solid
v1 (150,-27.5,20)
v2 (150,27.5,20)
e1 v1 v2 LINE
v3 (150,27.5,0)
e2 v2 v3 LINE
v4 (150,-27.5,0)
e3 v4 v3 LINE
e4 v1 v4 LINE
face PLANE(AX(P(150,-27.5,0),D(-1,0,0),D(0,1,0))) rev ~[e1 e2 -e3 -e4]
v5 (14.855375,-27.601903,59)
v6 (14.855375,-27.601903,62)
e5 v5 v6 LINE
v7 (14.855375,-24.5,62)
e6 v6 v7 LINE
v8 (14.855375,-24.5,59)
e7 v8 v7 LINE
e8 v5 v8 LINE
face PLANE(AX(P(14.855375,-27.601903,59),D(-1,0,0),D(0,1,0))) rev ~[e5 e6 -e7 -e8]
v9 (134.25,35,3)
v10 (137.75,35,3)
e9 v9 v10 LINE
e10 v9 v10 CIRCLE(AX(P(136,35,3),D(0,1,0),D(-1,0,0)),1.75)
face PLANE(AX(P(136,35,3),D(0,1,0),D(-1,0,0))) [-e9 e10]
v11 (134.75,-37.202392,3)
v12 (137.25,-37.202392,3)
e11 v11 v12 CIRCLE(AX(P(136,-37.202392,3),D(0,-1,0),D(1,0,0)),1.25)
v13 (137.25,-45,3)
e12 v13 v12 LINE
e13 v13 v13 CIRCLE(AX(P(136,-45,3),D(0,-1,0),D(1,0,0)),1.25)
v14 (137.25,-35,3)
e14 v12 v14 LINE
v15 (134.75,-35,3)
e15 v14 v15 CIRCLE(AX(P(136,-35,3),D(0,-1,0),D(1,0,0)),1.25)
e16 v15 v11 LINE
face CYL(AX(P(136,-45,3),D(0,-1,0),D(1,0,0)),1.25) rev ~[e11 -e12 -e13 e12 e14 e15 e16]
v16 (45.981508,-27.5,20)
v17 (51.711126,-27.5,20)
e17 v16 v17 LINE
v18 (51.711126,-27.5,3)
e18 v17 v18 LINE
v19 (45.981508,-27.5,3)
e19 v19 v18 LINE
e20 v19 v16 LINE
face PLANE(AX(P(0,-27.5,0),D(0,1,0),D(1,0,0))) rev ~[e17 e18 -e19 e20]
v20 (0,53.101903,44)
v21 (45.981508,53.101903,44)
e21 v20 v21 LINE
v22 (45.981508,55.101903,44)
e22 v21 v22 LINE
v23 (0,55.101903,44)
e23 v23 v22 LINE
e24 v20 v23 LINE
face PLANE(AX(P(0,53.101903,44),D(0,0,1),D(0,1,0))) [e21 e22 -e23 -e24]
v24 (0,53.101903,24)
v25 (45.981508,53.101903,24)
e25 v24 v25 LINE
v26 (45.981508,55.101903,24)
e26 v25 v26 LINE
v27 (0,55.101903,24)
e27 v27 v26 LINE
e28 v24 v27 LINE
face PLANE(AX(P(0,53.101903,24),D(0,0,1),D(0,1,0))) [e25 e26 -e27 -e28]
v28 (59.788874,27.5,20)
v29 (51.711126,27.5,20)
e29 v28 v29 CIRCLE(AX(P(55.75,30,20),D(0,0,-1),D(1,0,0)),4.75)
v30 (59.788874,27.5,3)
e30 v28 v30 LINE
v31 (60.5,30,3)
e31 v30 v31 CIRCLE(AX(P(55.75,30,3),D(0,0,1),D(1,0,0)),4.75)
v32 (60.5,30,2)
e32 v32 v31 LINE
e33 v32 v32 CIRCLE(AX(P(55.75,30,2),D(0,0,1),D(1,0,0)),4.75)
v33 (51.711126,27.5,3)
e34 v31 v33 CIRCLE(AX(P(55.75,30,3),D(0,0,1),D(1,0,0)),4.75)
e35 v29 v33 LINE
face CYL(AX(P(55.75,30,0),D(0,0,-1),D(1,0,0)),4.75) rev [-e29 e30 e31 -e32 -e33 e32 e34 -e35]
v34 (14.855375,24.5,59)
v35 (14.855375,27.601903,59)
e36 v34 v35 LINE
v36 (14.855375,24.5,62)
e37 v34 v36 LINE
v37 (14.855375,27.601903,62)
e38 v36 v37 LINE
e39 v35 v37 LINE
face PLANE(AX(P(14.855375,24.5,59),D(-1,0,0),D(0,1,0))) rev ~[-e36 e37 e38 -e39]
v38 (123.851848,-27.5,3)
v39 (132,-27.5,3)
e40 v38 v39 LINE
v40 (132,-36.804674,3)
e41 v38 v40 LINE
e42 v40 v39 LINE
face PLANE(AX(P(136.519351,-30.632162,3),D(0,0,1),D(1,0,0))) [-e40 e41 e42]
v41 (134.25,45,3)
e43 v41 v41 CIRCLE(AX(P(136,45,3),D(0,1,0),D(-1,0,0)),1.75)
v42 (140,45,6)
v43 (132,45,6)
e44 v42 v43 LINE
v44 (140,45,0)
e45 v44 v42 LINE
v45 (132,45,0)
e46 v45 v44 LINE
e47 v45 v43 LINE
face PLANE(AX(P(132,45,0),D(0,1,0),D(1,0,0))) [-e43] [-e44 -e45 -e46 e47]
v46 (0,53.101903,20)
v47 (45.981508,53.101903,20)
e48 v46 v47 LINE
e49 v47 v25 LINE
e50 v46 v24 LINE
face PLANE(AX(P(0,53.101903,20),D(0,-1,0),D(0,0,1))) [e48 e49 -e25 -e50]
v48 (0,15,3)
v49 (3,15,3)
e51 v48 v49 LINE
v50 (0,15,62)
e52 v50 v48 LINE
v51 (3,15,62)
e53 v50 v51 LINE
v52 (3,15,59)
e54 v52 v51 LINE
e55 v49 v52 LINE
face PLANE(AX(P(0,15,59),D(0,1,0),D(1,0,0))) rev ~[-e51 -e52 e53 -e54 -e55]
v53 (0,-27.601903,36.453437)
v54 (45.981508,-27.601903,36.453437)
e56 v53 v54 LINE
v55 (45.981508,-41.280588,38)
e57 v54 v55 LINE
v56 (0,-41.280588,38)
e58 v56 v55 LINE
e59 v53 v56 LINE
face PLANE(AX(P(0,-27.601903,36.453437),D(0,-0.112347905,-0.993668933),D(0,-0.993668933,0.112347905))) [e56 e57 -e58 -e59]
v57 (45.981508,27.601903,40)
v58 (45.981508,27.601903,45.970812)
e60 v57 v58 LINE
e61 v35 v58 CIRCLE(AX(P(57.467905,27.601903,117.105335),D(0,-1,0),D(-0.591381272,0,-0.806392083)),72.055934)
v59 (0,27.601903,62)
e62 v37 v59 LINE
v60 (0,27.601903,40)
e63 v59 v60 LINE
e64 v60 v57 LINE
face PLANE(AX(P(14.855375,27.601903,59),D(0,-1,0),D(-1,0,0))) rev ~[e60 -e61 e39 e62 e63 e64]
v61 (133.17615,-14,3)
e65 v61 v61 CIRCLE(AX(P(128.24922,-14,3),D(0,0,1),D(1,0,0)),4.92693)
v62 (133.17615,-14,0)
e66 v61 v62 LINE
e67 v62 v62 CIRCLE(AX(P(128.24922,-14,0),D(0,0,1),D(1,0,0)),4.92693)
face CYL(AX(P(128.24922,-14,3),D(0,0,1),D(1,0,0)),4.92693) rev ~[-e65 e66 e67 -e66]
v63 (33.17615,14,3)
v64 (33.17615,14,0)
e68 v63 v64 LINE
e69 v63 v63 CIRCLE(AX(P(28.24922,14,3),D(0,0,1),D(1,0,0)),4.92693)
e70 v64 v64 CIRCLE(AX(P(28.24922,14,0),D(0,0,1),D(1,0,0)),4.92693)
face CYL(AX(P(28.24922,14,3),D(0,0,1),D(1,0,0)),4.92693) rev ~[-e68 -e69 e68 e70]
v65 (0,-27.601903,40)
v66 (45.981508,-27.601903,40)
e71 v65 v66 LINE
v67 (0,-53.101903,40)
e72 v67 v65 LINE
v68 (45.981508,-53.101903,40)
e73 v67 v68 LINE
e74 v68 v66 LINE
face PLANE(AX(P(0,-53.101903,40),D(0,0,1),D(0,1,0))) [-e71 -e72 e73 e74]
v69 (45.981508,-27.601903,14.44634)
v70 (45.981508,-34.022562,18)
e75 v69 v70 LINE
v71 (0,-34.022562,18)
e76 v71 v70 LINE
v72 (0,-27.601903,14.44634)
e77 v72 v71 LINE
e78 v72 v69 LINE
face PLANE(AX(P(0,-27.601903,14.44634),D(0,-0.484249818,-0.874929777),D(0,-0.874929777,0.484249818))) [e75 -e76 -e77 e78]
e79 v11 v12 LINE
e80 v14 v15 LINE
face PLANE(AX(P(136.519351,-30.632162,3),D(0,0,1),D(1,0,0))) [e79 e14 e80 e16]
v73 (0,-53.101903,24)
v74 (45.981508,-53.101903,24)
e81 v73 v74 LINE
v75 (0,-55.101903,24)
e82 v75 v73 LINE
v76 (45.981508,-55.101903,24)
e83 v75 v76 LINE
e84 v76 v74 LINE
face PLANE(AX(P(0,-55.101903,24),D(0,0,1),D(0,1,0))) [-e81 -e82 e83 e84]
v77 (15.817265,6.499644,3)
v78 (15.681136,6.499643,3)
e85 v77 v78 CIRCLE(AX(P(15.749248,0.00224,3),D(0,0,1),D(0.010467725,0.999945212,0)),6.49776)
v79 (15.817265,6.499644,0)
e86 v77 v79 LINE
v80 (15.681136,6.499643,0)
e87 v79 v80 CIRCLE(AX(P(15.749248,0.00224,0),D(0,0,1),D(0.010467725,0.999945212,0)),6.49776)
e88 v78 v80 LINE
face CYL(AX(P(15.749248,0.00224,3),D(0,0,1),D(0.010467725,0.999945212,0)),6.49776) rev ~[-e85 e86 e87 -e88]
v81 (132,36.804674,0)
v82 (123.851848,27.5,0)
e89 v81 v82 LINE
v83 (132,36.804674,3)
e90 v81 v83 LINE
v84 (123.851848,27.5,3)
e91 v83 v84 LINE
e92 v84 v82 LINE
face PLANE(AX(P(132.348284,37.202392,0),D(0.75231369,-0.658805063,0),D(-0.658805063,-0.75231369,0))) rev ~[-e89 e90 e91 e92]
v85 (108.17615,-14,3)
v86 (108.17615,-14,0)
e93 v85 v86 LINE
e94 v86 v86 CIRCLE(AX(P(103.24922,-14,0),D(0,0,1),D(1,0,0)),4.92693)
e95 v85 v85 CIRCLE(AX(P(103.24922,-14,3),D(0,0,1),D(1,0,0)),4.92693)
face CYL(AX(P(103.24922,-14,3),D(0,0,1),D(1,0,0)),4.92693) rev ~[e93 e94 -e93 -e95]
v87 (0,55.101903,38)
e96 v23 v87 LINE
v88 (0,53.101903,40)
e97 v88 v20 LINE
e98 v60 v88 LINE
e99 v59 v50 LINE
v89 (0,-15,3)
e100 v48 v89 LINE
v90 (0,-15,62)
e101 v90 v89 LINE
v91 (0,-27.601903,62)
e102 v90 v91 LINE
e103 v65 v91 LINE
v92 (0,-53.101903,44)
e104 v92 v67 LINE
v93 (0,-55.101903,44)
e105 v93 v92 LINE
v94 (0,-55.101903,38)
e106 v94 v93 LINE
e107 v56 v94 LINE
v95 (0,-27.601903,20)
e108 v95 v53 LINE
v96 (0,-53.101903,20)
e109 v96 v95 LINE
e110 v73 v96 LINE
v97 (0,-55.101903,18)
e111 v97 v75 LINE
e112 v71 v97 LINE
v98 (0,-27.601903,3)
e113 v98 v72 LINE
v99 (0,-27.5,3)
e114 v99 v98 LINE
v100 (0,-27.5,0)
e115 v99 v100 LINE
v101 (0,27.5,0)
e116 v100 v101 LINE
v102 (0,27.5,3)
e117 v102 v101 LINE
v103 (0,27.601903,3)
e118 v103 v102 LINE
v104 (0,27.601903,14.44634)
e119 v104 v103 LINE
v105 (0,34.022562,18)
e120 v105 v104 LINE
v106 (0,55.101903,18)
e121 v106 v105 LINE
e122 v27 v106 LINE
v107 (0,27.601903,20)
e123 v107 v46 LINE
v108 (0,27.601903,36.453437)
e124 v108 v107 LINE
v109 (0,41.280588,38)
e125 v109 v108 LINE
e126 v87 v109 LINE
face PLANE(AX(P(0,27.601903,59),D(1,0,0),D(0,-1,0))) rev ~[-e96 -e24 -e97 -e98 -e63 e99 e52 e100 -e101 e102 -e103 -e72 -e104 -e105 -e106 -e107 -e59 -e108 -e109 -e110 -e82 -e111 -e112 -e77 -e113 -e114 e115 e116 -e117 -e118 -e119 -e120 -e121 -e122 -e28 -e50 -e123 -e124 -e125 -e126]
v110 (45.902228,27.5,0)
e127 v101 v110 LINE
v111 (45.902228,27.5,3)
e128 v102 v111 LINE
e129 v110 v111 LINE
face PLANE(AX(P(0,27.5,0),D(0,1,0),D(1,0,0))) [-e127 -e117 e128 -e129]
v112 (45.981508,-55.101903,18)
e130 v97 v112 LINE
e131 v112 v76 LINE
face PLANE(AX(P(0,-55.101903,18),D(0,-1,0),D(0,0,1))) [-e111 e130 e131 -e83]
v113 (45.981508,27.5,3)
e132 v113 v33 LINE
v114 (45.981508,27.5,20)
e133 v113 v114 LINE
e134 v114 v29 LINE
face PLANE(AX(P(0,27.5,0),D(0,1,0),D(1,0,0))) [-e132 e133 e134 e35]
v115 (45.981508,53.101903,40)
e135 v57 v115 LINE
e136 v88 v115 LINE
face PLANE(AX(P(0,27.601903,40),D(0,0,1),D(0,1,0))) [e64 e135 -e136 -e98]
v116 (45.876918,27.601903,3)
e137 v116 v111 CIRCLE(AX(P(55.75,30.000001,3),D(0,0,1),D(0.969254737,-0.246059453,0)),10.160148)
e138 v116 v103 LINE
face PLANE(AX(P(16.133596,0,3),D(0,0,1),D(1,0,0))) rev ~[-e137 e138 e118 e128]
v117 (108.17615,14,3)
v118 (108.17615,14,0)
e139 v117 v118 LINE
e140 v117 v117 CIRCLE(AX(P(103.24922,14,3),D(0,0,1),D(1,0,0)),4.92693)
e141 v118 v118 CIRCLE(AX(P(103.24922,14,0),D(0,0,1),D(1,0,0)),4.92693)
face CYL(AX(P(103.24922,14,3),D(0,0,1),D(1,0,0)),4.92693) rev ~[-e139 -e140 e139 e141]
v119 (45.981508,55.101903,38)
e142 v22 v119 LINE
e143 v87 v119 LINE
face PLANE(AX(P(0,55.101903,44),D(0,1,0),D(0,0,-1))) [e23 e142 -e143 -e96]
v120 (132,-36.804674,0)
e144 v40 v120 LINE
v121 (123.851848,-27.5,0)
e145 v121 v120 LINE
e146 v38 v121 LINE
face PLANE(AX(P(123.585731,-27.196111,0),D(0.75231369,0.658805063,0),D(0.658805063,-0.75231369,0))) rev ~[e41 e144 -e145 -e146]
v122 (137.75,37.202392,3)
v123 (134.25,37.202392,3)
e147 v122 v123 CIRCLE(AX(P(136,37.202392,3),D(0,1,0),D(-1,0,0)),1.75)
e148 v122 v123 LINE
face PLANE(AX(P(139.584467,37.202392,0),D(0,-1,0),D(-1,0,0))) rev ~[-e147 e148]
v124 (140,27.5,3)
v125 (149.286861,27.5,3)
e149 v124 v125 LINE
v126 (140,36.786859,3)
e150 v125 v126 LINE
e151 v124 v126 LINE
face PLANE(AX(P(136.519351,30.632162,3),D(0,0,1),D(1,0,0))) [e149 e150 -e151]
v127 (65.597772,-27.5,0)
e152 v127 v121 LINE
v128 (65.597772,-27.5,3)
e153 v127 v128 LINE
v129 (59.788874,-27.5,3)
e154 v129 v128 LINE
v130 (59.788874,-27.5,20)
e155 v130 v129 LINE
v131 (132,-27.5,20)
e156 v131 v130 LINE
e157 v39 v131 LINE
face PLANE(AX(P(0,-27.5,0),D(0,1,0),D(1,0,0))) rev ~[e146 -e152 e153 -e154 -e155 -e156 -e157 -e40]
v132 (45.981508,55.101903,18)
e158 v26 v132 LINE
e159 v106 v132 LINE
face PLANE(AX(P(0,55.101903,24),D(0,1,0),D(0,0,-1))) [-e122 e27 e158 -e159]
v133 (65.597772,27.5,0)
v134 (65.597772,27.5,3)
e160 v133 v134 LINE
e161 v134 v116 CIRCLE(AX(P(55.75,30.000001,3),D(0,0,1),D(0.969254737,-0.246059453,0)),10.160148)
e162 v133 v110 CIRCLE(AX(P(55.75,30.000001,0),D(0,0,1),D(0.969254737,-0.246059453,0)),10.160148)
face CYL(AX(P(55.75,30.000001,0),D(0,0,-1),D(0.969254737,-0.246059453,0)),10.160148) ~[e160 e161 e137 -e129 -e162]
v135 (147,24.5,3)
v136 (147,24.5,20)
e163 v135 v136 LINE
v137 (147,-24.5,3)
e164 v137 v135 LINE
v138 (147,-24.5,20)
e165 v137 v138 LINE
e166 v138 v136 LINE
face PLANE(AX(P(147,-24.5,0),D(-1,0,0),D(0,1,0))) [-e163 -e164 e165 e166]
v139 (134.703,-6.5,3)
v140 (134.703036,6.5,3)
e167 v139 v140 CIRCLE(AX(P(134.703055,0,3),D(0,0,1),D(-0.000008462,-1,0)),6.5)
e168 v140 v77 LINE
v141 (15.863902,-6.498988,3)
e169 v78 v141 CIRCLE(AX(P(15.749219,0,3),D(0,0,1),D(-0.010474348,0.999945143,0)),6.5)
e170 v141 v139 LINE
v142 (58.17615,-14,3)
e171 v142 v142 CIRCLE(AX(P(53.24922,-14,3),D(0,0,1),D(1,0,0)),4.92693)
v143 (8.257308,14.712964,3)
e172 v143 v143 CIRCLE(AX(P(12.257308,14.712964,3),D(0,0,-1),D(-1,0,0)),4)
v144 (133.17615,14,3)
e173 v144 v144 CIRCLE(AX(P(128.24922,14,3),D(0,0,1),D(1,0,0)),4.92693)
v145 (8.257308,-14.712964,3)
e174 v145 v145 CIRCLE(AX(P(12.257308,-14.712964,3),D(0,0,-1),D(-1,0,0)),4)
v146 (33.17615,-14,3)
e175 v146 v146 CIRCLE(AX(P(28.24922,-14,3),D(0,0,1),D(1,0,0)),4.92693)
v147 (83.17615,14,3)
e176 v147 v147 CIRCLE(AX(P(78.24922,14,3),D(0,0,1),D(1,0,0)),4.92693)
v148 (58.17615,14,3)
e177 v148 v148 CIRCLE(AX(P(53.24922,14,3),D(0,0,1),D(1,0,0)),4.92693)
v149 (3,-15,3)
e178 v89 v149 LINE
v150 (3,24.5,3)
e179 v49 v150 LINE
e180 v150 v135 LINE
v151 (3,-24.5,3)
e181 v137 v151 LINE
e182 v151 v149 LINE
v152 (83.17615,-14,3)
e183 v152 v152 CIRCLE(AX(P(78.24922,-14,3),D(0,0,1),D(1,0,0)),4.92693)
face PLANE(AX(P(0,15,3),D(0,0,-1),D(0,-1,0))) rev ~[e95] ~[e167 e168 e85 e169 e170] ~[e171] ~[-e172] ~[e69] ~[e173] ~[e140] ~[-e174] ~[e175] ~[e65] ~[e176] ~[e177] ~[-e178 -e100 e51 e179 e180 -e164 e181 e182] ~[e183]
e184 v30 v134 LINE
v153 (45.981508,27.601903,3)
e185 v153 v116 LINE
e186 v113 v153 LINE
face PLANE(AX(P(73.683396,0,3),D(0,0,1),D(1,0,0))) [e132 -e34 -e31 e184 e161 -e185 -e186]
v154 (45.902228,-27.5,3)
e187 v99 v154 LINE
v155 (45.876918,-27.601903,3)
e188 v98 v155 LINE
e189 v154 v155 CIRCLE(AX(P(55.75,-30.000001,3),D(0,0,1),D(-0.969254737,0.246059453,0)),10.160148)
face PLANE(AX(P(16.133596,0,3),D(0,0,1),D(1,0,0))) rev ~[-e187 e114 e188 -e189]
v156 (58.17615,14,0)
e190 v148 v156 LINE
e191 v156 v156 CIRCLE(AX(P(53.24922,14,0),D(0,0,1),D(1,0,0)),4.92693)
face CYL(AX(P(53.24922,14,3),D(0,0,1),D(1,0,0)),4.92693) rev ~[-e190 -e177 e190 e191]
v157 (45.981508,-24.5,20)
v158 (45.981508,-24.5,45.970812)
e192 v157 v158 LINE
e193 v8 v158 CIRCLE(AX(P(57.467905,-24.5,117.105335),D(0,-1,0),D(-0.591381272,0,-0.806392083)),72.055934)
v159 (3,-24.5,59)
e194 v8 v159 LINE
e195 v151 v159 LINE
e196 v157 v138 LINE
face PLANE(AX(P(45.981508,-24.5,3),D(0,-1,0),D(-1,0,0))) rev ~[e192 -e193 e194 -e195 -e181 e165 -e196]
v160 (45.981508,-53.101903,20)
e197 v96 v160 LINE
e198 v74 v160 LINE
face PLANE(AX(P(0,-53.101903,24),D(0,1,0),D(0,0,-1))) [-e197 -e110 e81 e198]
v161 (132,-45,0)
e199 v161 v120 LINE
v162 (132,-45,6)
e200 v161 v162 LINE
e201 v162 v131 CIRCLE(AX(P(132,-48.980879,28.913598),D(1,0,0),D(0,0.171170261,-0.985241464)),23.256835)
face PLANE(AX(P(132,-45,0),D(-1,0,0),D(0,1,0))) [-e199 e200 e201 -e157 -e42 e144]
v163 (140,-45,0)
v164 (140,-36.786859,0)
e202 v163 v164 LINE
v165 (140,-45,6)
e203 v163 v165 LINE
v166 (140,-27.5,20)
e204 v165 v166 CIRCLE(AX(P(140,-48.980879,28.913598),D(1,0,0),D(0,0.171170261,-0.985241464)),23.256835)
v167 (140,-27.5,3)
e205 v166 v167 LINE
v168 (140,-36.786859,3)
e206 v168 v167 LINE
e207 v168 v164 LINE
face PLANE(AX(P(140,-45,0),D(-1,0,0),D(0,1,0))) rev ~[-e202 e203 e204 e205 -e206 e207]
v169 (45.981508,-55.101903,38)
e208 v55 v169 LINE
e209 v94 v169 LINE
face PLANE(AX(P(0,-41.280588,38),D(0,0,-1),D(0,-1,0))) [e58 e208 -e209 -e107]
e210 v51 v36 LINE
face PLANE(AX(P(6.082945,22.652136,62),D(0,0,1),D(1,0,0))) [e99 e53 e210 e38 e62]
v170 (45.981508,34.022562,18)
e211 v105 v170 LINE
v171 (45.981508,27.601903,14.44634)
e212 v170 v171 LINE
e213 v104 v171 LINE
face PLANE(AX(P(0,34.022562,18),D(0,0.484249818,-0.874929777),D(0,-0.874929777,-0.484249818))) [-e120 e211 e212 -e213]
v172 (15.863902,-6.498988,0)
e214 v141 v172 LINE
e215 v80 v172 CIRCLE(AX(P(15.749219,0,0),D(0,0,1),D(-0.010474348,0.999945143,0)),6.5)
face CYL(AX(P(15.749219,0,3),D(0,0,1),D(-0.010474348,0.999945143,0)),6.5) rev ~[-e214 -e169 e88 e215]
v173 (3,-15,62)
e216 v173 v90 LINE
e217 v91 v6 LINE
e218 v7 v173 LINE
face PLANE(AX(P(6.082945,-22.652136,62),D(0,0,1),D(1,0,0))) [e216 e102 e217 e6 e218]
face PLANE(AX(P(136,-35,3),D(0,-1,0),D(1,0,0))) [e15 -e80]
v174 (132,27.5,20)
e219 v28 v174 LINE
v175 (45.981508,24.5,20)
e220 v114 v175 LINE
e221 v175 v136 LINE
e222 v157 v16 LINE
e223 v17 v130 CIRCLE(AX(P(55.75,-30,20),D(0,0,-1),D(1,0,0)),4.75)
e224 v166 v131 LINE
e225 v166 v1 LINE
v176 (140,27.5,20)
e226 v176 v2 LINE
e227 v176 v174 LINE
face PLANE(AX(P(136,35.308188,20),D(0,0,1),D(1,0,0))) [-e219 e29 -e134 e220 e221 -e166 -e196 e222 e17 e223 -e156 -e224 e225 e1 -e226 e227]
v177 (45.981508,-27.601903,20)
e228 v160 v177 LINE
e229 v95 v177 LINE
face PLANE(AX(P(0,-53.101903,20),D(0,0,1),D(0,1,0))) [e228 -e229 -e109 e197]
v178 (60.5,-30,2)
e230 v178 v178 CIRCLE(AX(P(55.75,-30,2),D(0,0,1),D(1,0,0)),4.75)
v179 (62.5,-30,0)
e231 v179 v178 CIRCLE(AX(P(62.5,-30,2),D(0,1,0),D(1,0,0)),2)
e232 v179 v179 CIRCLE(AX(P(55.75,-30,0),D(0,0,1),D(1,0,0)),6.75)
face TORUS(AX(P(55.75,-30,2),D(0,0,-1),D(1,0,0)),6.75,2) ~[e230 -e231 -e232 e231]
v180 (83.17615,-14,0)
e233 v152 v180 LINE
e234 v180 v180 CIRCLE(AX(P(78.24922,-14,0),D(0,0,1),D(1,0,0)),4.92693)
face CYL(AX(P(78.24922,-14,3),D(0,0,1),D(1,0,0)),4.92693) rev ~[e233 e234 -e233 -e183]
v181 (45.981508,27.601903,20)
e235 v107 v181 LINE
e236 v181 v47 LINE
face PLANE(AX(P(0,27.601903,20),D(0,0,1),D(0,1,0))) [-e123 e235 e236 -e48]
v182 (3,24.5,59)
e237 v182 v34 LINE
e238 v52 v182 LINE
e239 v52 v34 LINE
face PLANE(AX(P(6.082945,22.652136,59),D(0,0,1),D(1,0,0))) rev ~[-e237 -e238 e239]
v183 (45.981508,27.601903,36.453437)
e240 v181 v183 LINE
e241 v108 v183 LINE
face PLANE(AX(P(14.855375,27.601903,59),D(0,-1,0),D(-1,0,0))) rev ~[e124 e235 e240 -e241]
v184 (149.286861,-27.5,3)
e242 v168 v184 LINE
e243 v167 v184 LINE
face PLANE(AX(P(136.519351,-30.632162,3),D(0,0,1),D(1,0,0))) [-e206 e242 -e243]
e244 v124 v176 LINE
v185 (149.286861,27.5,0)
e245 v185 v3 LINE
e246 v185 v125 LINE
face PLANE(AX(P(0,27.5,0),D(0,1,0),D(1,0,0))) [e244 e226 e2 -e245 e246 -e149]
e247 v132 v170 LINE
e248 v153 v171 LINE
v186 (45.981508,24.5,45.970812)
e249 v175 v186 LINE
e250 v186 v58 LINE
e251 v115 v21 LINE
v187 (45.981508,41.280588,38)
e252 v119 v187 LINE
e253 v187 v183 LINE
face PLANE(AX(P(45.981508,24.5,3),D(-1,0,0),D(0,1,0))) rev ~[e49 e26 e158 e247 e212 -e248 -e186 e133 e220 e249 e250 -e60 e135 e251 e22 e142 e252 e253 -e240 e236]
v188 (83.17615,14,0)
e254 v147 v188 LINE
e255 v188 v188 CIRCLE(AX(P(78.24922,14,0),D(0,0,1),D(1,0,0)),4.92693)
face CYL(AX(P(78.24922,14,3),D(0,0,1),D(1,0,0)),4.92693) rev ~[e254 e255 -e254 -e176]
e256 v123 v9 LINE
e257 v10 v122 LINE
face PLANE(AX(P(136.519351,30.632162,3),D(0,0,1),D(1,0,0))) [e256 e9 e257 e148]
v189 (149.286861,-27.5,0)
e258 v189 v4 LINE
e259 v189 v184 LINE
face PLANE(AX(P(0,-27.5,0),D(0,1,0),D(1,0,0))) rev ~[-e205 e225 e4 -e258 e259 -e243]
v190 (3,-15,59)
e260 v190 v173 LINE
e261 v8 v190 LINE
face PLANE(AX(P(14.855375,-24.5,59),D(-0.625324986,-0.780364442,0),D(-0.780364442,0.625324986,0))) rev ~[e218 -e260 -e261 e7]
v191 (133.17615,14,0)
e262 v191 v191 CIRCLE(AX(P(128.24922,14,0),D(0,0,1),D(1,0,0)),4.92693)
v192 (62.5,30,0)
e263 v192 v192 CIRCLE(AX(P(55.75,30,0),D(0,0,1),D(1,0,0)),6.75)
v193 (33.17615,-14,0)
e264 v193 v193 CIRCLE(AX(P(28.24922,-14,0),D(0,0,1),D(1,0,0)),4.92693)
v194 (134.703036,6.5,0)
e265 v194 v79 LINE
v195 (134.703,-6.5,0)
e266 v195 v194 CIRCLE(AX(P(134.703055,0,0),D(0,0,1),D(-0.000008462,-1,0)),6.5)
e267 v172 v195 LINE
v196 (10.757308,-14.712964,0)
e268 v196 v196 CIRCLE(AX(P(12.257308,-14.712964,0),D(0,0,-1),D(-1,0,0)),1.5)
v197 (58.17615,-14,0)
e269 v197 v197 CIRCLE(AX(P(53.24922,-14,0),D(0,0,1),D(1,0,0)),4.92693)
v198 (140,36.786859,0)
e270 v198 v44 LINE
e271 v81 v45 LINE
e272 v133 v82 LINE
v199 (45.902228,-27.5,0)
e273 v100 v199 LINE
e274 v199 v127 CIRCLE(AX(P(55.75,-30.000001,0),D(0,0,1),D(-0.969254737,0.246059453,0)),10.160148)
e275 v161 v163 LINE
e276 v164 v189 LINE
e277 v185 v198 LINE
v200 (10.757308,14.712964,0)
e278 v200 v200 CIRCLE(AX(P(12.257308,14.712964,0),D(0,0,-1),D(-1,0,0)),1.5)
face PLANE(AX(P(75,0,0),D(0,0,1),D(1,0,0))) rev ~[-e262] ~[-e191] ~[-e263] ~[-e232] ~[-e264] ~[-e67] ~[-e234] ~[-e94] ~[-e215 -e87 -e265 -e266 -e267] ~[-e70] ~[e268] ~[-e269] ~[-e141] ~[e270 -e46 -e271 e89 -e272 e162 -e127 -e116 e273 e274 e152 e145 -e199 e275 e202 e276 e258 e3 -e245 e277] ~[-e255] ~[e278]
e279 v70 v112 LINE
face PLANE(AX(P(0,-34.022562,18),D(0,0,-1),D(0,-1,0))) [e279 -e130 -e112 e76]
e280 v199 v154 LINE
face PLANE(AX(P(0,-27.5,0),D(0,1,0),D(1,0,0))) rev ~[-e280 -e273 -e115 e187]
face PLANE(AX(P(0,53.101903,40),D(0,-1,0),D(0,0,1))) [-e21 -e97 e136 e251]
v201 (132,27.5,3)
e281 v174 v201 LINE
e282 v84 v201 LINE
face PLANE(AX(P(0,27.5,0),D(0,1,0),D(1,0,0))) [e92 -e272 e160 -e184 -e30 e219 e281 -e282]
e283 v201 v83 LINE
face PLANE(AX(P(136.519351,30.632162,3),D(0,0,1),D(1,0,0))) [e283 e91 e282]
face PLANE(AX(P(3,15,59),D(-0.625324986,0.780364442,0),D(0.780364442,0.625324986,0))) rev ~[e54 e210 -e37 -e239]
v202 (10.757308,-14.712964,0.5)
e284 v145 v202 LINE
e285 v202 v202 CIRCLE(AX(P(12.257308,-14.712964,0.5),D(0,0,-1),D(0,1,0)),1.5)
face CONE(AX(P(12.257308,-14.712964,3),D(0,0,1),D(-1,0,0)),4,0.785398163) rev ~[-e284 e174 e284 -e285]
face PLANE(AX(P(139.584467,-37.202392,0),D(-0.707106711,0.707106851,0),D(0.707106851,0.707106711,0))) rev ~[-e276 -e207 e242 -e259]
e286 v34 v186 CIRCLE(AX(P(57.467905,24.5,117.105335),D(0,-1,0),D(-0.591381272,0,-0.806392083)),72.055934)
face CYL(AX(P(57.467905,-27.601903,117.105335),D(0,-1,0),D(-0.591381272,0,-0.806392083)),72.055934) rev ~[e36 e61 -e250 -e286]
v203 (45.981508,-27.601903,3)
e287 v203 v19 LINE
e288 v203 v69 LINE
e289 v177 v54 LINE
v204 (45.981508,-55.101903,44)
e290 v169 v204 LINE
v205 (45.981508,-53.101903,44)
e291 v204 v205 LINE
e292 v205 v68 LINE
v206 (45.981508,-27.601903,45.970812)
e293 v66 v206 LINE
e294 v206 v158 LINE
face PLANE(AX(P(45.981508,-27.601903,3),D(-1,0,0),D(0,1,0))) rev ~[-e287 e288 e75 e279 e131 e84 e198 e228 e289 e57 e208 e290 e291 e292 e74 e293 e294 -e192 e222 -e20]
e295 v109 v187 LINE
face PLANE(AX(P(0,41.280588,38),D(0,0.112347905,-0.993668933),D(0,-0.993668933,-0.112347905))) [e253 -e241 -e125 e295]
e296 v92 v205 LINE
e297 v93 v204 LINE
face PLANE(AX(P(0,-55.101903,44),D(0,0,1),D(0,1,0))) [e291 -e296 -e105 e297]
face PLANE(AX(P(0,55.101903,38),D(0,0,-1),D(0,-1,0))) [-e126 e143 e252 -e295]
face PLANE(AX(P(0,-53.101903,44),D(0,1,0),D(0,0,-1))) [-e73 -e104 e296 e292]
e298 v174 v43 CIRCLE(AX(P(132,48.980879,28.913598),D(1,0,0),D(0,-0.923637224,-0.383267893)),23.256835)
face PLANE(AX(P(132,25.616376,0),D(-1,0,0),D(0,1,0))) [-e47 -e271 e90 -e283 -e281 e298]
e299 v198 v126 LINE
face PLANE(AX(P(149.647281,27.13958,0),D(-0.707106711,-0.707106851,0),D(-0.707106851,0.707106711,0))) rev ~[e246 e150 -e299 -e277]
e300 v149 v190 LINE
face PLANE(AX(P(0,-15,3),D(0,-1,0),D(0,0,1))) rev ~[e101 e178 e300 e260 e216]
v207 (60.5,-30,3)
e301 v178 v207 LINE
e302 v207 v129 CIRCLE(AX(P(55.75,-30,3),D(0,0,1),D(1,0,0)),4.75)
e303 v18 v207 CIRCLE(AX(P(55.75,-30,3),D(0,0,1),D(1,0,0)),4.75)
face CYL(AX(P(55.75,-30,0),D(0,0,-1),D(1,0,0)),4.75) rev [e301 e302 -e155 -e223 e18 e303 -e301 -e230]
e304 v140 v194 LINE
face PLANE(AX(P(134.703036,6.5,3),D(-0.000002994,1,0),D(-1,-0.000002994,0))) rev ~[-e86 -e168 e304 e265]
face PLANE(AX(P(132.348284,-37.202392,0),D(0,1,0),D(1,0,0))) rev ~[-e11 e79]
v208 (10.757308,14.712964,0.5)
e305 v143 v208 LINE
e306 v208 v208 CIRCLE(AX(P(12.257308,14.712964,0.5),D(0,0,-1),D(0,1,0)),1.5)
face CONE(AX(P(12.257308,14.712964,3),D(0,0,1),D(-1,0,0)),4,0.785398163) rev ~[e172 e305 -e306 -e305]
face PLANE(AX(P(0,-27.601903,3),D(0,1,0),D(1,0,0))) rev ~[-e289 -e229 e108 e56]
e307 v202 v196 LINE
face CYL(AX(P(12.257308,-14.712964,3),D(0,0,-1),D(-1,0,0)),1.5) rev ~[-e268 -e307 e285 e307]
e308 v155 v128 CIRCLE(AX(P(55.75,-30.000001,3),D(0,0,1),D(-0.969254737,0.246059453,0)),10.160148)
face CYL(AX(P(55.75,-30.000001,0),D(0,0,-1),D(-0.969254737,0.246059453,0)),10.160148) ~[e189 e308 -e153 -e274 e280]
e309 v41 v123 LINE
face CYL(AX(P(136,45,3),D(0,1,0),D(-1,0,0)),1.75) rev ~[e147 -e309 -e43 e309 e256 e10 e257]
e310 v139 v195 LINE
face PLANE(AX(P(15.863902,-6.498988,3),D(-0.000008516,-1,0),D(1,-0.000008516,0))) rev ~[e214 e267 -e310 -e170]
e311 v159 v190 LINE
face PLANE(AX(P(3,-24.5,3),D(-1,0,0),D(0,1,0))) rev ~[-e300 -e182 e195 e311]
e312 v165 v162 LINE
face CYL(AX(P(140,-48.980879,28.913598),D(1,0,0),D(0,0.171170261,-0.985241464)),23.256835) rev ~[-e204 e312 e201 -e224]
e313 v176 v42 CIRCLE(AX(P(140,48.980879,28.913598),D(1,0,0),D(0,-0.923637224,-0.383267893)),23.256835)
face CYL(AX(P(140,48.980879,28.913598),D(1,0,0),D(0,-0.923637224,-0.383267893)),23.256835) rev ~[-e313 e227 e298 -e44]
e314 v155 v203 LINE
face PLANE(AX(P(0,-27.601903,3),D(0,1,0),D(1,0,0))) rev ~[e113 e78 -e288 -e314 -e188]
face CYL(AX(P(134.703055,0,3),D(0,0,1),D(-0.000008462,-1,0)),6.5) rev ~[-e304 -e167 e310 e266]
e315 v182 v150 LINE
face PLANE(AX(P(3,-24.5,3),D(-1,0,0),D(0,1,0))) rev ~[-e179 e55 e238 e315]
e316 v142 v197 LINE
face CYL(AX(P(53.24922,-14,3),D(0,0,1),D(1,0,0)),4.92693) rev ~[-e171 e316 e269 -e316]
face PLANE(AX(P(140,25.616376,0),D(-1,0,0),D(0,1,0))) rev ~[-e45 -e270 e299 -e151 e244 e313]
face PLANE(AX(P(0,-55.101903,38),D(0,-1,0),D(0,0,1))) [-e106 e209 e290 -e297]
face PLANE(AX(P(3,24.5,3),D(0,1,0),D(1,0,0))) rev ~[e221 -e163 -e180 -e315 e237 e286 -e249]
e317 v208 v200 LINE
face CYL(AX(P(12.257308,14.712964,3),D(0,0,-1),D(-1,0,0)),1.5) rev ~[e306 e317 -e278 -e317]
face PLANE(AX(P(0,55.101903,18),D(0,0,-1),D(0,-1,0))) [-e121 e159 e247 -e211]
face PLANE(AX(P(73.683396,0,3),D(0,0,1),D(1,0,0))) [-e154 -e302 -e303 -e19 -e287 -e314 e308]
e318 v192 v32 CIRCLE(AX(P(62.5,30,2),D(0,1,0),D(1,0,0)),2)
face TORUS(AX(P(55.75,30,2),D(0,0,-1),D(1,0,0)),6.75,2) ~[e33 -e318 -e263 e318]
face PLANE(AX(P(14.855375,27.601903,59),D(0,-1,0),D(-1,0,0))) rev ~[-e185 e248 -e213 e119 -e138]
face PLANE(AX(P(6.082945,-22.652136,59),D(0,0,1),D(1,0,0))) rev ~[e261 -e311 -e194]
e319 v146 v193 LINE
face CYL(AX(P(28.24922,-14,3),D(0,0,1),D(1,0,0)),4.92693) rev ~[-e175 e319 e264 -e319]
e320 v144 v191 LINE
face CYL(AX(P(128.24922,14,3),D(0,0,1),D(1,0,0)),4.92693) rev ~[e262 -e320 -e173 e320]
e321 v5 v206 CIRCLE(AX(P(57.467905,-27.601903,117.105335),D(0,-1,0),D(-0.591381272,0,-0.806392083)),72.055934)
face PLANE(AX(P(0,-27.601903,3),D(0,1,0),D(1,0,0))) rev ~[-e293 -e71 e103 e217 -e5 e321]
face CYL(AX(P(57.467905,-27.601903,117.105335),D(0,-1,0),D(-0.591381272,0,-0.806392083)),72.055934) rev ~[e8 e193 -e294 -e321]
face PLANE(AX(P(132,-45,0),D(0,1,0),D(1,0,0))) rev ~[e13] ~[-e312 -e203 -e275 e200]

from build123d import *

# Parameters (mm, degrees)
F0_W            = 150
F0_H            = 55
F0_W_2          = 144
F0_H_2          = 49
F1_DEPTH        = 20
F3_R            = 4.75
F4_DEPTH        = 25
F5_W            = 8
F5_H            = 19.383624
F6_DEPTH        = 20
F8_DEPTH        = 25
F2_R            = 4.75
F9_DEPTH        = 3
F10_R           = 2
F12_DEPTH       = 56
F13_W           = 30
F13_H           = 56
F14_DEPTH       = 25
F16_DEPTH       = 3
F17_R           = 6
F17_R_2         = 4.92693
F18_DEPTH       = 25
F19_R           = 1.25
F20_DEPTH       = 10
F21_R           = 1.75
F22_DEPTH       = 10
F24_D           = 3
F24_CSINK_D     = 8
F24_CSINK_ANGLE = 90
F26_DEPTH       = 45.981508
F28_DEPTH       = 82.704807
F30_DEPTH       = 3.001
F32_DEPTH       = 3


with BuildPart() as f1:
    # F0 (on Top) → F1 (new body)
    with BuildSketch(Plane.XY):
        with Locations((75, 0)):
            Rectangle(F0_W, F0_H)
        with Locations((75, 0)):
            Rectangle(F0_W_2, F0_H_2, mode=Mode.SUBTRACT)
    extrude(amount=F1_DEPTH)

    # F3 (on Top) → F4 (cut)
    with BuildSketch(Plane.XY):
        with Locations((55.75, 30)):
            Circle(F3_R)
        with Locations((55.75, -30)):
            Circle(F3_R)
    extrude(amount=F4_DEPTH, mode=Mode.SUBTRACT)

    # F5 (on Top) → F6 (join)
    with BuildSketch(Plane.XY):
        with Locations((136, 35.308188)):
            Rectangle(F5_W, F5_H)
        with Locations((136, -35.308188)):
            Rectangle(F5_W, F5_H)
    extrude(amount=F6_DEPTH)

    # F7 (on face) → F8 (cut)
    with BuildSketch(Plane.YZ.offset(140)):
        with BuildLine():
            Line((45, 20), (27.5, 20))
            ThreePointArc((27.5, 20), (34.452449, 10.753061), (45, 6))
            Line((45, 6), (45, 20))
        make_face()
        with BuildLine():
            Line((-27.5, 20), (-45, 20))
            Line((-45, 20), (-45, 6))
            ThreePointArc((-45, 6), (-34.452449, 10.753061), (-27.5, 20))
        make_face()
    extrude(amount=-F8_DEPTH, mode=Mode.SUBTRACT)

    # F2 (on Top) → F9 (join)
    with BuildSketch(Plane.XY):
        with BuildLine():
            Line((45.902228, 27.5), (0, 27.5))
            Line((0, 27.5), (0, -27.5))
            Line((0, -27.5), (45.902228, -27.5))
            ThreePointArc((45.902228, -27.5), (55.75, -40.160149), (65.597772, -27.5))
            Line((65.597772, -27.5), (150, -27.5))
            Line((150, -27.5), (150, 27.5))
            Line((150, 27.5), (65.597772, 27.5))
            ThreePointArc((65.597772, 27.5), (55.75, 40.160149), (45.902228, 27.5))
        make_face()
        with Locations((55.75, -30)):
            Circle(F2_R, mode=Mode.SUBTRACT)
        with Locations((55.75, 30)):
            Circle(F2_R, mode=Mode.SUBTRACT)
    extrude(amount=F9_DEPTH)

    # F10
    f10_edges = [f1.edges().sort_by_distance(p)[0] for p in [
        (51, 30, 0),
        (51, -30, 0),
    ]]
    fillet(f10_edges, radius=F10_R)

    # F11 (on face) → F12 (join)
    with BuildSketch(Plane.XY.offset(3)):
        Polygon((45.981508, 27.601903), (0, 27.601903), (0, 0), (0, -27.601903), (45.981508, -27.601903), (45.981508, -24.5), (3, -24.5), (3, 0), (3, 24.5), (45.981508, 24.5), align=None)
    extrude(amount=F12_DEPTH)

    # F13 (on face) → F14 (cut)
    with BuildSketch(Plane(origin=(0, 0, 0), x_dir=(0, -1, 0), z_dir=(-1, 0, 0))):
        with Locations((0, 31)):
            Rectangle(F13_W, F13_H)
    extrude(amount=-F14_DEPTH, mode=Mode.SUBTRACT)

    # F15 (on face) → F16 (join)
    with BuildSketch(Plane.XY.offset(59)):
        Polygon((0, 15), (3, 15), (14.855375, 24.5), (14.855375, 27.601903), (0, 27.601903), align=None)
        Polygon((3, -15), (0, -15), (0, -27.601903), (14.855375, -27.601903), (14.855375, -24.5), align=None)
    extrude(amount=F16_DEPTH)

    # F17 (on face) → F18 (cut)
    with BuildSketch(Plane.XY.offset(3)):
        with Locations((15.74922, 0)):
            Circle(F17_R)
        with Locations((40.74922, 0)):
            Circle(F17_R)
        with Locations((65.74922, 0)):
            Circle(F17_R)
        with Locations((90.74922, 0)):
            Circle(F17_R)
        with Locations((115.74922, 0)):
            Circle(F17_R)
        with Locations((28.24922, 14)):
            Circle(F17_R_2)
        with Locations((53.24922, 14)):
            Circle(F17_R_2)
        with Locations((78.24922, 14)):
            Circle(F17_R_2)
        with Locations((103.24922, 14)):
            Circle(F17_R_2)
        with Locations((128.24922, 14)):
            Circle(F17_R_2)
        with Locations((28.24922, -14)):
            Circle(F17_R_2)
        with Locations((53.24922, -14)):
            Circle(F17_R_2)
        with Locations((78.24922, -14)):
            Circle(F17_R_2)
        with Locations((103.24922, -14)):
            Circle(F17_R_2)
        with Locations((128.24922, -14)):
            Circle(F17_R_2)
    extrude(amount=-F18_DEPTH, mode=Mode.SUBTRACT)

    # F19 (on face) → F20 (cut)
    with BuildSketch(Plane.XZ.offset(45)):
        with Locations((136, 3)):
            Circle(F19_R)
    extrude(amount=-F20_DEPTH, mode=Mode.SUBTRACT)

    # F21 (on face) → F22 (cut)
    with BuildSketch(Plane(origin=(0, 45, 0), x_dir=(-1, 0, 0), z_dir=(0, 1, 0))):
        with Locations((-136, 3)):
            Circle(F21_R)
    extrude(amount=-F22_DEPTH, mode=Mode.SUBTRACT)

    # F24 (through all)
    with Locations(Plane.XY.offset(3)):
        with Locations((12.257308, 14.712964), (12.257308, -14.712964)):
            CounterSinkHole(F24_D / 2, F24_CSINK_D / 2, counter_sink_angle=F24_CSINK_ANGLE)

    # F25 (on face) → F26 (join, through all)
    with BuildSketch(Plane(origin=(0, 0, 0), x_dir=(0, -1, 0), z_dir=(-1, 0, 0))):
        Polygon((-55.101903, 44), (-55.101903, 38), (-41.280588, 38), (-27.601903, 36.453437), (-27.601903, 40), (-53.101903, 40), (-53.101903, 44), align=None)
        Polygon((-55.101903, 24), (-55.101903, 18), (-34.022562, 18), (-27.601903, 14.44634), (-27.601903, 20), (-53.101903, 20), (-53.101903, 24), align=None)
        Polygon((55.101903, 24), (53.101903, 24), (53.101903, 20), (27.601903, 20), (27.601903, 14.44634), (34.022562, 18), (55.101903, 18), align=None)
        Polygon((41.280588, 38), (55.101903, 38), (55.101903, 44), (53.101903, 44), (53.101903, 40), (27.601903, 40), (27.601903, 36.453437), align=None)
    extrude(amount=-F26_DEPTH)

    # F27 (on face) → F28 (cut, through all)
    with BuildSketch(Plane.XZ.offset(27.601903)):
        with BuildLine():
            Line((45.981508, 59), (14.855375, 59))
            ThreePointArc((14.855375, 59), (29.645011, 50.637717), (45.981508, 45.970812))
            Line((45.981508, 45.970812), (45.981508, 59))
        make_face()
    extrude(amount=-F28_DEPTH, mode=Mode.SUBTRACT)

    # F29 (on face) → F30 (cut, through all)
    with BuildSketch(Plane.XY.offset(3)):
        with BuildLine():
            Line((15.681136, 6.499643), (15.817265, 6.499644))
            ThreePointArc((15.817265, 6.499644), (15.7492, 6.5), (15.681136, 6.499643))
        make_face()
        with BuildLine():
            Line((134.703036, 6.5), (15.817265, 6.499644))
            Line((15.817265, 6.499644), (15.681136, 6.499643))
            ThreePointArc((15.681136, 6.499643), (9.249862, -0.091384), (15.863902, -6.498988))
            Line((15.863902, -6.498988), (134.703, -6.5))
            ThreePointArc((134.703, -6.5), (141.203055, -1.8e-05), (134.703036, 6.5))
        make_face()
    extrude(amount=-F30_DEPTH, mode=Mode.SUBTRACT)

    # F31 (on face) → F32 (join)
    with BuildSketch(Plane.XY):
        Polygon((139.584467, -37.202392), (149.647281, -27.13958), (123.585731, -27.196111), (132.348284, -37.202392), align=None)
        Polygon((149.647281, 27.13958), (139.584467, 37.202392), (132.348284, 37.202392), (123.585731, 27.196111), align=None)
    extrude(amount=F32_DEPTH)


solid = f1.part
